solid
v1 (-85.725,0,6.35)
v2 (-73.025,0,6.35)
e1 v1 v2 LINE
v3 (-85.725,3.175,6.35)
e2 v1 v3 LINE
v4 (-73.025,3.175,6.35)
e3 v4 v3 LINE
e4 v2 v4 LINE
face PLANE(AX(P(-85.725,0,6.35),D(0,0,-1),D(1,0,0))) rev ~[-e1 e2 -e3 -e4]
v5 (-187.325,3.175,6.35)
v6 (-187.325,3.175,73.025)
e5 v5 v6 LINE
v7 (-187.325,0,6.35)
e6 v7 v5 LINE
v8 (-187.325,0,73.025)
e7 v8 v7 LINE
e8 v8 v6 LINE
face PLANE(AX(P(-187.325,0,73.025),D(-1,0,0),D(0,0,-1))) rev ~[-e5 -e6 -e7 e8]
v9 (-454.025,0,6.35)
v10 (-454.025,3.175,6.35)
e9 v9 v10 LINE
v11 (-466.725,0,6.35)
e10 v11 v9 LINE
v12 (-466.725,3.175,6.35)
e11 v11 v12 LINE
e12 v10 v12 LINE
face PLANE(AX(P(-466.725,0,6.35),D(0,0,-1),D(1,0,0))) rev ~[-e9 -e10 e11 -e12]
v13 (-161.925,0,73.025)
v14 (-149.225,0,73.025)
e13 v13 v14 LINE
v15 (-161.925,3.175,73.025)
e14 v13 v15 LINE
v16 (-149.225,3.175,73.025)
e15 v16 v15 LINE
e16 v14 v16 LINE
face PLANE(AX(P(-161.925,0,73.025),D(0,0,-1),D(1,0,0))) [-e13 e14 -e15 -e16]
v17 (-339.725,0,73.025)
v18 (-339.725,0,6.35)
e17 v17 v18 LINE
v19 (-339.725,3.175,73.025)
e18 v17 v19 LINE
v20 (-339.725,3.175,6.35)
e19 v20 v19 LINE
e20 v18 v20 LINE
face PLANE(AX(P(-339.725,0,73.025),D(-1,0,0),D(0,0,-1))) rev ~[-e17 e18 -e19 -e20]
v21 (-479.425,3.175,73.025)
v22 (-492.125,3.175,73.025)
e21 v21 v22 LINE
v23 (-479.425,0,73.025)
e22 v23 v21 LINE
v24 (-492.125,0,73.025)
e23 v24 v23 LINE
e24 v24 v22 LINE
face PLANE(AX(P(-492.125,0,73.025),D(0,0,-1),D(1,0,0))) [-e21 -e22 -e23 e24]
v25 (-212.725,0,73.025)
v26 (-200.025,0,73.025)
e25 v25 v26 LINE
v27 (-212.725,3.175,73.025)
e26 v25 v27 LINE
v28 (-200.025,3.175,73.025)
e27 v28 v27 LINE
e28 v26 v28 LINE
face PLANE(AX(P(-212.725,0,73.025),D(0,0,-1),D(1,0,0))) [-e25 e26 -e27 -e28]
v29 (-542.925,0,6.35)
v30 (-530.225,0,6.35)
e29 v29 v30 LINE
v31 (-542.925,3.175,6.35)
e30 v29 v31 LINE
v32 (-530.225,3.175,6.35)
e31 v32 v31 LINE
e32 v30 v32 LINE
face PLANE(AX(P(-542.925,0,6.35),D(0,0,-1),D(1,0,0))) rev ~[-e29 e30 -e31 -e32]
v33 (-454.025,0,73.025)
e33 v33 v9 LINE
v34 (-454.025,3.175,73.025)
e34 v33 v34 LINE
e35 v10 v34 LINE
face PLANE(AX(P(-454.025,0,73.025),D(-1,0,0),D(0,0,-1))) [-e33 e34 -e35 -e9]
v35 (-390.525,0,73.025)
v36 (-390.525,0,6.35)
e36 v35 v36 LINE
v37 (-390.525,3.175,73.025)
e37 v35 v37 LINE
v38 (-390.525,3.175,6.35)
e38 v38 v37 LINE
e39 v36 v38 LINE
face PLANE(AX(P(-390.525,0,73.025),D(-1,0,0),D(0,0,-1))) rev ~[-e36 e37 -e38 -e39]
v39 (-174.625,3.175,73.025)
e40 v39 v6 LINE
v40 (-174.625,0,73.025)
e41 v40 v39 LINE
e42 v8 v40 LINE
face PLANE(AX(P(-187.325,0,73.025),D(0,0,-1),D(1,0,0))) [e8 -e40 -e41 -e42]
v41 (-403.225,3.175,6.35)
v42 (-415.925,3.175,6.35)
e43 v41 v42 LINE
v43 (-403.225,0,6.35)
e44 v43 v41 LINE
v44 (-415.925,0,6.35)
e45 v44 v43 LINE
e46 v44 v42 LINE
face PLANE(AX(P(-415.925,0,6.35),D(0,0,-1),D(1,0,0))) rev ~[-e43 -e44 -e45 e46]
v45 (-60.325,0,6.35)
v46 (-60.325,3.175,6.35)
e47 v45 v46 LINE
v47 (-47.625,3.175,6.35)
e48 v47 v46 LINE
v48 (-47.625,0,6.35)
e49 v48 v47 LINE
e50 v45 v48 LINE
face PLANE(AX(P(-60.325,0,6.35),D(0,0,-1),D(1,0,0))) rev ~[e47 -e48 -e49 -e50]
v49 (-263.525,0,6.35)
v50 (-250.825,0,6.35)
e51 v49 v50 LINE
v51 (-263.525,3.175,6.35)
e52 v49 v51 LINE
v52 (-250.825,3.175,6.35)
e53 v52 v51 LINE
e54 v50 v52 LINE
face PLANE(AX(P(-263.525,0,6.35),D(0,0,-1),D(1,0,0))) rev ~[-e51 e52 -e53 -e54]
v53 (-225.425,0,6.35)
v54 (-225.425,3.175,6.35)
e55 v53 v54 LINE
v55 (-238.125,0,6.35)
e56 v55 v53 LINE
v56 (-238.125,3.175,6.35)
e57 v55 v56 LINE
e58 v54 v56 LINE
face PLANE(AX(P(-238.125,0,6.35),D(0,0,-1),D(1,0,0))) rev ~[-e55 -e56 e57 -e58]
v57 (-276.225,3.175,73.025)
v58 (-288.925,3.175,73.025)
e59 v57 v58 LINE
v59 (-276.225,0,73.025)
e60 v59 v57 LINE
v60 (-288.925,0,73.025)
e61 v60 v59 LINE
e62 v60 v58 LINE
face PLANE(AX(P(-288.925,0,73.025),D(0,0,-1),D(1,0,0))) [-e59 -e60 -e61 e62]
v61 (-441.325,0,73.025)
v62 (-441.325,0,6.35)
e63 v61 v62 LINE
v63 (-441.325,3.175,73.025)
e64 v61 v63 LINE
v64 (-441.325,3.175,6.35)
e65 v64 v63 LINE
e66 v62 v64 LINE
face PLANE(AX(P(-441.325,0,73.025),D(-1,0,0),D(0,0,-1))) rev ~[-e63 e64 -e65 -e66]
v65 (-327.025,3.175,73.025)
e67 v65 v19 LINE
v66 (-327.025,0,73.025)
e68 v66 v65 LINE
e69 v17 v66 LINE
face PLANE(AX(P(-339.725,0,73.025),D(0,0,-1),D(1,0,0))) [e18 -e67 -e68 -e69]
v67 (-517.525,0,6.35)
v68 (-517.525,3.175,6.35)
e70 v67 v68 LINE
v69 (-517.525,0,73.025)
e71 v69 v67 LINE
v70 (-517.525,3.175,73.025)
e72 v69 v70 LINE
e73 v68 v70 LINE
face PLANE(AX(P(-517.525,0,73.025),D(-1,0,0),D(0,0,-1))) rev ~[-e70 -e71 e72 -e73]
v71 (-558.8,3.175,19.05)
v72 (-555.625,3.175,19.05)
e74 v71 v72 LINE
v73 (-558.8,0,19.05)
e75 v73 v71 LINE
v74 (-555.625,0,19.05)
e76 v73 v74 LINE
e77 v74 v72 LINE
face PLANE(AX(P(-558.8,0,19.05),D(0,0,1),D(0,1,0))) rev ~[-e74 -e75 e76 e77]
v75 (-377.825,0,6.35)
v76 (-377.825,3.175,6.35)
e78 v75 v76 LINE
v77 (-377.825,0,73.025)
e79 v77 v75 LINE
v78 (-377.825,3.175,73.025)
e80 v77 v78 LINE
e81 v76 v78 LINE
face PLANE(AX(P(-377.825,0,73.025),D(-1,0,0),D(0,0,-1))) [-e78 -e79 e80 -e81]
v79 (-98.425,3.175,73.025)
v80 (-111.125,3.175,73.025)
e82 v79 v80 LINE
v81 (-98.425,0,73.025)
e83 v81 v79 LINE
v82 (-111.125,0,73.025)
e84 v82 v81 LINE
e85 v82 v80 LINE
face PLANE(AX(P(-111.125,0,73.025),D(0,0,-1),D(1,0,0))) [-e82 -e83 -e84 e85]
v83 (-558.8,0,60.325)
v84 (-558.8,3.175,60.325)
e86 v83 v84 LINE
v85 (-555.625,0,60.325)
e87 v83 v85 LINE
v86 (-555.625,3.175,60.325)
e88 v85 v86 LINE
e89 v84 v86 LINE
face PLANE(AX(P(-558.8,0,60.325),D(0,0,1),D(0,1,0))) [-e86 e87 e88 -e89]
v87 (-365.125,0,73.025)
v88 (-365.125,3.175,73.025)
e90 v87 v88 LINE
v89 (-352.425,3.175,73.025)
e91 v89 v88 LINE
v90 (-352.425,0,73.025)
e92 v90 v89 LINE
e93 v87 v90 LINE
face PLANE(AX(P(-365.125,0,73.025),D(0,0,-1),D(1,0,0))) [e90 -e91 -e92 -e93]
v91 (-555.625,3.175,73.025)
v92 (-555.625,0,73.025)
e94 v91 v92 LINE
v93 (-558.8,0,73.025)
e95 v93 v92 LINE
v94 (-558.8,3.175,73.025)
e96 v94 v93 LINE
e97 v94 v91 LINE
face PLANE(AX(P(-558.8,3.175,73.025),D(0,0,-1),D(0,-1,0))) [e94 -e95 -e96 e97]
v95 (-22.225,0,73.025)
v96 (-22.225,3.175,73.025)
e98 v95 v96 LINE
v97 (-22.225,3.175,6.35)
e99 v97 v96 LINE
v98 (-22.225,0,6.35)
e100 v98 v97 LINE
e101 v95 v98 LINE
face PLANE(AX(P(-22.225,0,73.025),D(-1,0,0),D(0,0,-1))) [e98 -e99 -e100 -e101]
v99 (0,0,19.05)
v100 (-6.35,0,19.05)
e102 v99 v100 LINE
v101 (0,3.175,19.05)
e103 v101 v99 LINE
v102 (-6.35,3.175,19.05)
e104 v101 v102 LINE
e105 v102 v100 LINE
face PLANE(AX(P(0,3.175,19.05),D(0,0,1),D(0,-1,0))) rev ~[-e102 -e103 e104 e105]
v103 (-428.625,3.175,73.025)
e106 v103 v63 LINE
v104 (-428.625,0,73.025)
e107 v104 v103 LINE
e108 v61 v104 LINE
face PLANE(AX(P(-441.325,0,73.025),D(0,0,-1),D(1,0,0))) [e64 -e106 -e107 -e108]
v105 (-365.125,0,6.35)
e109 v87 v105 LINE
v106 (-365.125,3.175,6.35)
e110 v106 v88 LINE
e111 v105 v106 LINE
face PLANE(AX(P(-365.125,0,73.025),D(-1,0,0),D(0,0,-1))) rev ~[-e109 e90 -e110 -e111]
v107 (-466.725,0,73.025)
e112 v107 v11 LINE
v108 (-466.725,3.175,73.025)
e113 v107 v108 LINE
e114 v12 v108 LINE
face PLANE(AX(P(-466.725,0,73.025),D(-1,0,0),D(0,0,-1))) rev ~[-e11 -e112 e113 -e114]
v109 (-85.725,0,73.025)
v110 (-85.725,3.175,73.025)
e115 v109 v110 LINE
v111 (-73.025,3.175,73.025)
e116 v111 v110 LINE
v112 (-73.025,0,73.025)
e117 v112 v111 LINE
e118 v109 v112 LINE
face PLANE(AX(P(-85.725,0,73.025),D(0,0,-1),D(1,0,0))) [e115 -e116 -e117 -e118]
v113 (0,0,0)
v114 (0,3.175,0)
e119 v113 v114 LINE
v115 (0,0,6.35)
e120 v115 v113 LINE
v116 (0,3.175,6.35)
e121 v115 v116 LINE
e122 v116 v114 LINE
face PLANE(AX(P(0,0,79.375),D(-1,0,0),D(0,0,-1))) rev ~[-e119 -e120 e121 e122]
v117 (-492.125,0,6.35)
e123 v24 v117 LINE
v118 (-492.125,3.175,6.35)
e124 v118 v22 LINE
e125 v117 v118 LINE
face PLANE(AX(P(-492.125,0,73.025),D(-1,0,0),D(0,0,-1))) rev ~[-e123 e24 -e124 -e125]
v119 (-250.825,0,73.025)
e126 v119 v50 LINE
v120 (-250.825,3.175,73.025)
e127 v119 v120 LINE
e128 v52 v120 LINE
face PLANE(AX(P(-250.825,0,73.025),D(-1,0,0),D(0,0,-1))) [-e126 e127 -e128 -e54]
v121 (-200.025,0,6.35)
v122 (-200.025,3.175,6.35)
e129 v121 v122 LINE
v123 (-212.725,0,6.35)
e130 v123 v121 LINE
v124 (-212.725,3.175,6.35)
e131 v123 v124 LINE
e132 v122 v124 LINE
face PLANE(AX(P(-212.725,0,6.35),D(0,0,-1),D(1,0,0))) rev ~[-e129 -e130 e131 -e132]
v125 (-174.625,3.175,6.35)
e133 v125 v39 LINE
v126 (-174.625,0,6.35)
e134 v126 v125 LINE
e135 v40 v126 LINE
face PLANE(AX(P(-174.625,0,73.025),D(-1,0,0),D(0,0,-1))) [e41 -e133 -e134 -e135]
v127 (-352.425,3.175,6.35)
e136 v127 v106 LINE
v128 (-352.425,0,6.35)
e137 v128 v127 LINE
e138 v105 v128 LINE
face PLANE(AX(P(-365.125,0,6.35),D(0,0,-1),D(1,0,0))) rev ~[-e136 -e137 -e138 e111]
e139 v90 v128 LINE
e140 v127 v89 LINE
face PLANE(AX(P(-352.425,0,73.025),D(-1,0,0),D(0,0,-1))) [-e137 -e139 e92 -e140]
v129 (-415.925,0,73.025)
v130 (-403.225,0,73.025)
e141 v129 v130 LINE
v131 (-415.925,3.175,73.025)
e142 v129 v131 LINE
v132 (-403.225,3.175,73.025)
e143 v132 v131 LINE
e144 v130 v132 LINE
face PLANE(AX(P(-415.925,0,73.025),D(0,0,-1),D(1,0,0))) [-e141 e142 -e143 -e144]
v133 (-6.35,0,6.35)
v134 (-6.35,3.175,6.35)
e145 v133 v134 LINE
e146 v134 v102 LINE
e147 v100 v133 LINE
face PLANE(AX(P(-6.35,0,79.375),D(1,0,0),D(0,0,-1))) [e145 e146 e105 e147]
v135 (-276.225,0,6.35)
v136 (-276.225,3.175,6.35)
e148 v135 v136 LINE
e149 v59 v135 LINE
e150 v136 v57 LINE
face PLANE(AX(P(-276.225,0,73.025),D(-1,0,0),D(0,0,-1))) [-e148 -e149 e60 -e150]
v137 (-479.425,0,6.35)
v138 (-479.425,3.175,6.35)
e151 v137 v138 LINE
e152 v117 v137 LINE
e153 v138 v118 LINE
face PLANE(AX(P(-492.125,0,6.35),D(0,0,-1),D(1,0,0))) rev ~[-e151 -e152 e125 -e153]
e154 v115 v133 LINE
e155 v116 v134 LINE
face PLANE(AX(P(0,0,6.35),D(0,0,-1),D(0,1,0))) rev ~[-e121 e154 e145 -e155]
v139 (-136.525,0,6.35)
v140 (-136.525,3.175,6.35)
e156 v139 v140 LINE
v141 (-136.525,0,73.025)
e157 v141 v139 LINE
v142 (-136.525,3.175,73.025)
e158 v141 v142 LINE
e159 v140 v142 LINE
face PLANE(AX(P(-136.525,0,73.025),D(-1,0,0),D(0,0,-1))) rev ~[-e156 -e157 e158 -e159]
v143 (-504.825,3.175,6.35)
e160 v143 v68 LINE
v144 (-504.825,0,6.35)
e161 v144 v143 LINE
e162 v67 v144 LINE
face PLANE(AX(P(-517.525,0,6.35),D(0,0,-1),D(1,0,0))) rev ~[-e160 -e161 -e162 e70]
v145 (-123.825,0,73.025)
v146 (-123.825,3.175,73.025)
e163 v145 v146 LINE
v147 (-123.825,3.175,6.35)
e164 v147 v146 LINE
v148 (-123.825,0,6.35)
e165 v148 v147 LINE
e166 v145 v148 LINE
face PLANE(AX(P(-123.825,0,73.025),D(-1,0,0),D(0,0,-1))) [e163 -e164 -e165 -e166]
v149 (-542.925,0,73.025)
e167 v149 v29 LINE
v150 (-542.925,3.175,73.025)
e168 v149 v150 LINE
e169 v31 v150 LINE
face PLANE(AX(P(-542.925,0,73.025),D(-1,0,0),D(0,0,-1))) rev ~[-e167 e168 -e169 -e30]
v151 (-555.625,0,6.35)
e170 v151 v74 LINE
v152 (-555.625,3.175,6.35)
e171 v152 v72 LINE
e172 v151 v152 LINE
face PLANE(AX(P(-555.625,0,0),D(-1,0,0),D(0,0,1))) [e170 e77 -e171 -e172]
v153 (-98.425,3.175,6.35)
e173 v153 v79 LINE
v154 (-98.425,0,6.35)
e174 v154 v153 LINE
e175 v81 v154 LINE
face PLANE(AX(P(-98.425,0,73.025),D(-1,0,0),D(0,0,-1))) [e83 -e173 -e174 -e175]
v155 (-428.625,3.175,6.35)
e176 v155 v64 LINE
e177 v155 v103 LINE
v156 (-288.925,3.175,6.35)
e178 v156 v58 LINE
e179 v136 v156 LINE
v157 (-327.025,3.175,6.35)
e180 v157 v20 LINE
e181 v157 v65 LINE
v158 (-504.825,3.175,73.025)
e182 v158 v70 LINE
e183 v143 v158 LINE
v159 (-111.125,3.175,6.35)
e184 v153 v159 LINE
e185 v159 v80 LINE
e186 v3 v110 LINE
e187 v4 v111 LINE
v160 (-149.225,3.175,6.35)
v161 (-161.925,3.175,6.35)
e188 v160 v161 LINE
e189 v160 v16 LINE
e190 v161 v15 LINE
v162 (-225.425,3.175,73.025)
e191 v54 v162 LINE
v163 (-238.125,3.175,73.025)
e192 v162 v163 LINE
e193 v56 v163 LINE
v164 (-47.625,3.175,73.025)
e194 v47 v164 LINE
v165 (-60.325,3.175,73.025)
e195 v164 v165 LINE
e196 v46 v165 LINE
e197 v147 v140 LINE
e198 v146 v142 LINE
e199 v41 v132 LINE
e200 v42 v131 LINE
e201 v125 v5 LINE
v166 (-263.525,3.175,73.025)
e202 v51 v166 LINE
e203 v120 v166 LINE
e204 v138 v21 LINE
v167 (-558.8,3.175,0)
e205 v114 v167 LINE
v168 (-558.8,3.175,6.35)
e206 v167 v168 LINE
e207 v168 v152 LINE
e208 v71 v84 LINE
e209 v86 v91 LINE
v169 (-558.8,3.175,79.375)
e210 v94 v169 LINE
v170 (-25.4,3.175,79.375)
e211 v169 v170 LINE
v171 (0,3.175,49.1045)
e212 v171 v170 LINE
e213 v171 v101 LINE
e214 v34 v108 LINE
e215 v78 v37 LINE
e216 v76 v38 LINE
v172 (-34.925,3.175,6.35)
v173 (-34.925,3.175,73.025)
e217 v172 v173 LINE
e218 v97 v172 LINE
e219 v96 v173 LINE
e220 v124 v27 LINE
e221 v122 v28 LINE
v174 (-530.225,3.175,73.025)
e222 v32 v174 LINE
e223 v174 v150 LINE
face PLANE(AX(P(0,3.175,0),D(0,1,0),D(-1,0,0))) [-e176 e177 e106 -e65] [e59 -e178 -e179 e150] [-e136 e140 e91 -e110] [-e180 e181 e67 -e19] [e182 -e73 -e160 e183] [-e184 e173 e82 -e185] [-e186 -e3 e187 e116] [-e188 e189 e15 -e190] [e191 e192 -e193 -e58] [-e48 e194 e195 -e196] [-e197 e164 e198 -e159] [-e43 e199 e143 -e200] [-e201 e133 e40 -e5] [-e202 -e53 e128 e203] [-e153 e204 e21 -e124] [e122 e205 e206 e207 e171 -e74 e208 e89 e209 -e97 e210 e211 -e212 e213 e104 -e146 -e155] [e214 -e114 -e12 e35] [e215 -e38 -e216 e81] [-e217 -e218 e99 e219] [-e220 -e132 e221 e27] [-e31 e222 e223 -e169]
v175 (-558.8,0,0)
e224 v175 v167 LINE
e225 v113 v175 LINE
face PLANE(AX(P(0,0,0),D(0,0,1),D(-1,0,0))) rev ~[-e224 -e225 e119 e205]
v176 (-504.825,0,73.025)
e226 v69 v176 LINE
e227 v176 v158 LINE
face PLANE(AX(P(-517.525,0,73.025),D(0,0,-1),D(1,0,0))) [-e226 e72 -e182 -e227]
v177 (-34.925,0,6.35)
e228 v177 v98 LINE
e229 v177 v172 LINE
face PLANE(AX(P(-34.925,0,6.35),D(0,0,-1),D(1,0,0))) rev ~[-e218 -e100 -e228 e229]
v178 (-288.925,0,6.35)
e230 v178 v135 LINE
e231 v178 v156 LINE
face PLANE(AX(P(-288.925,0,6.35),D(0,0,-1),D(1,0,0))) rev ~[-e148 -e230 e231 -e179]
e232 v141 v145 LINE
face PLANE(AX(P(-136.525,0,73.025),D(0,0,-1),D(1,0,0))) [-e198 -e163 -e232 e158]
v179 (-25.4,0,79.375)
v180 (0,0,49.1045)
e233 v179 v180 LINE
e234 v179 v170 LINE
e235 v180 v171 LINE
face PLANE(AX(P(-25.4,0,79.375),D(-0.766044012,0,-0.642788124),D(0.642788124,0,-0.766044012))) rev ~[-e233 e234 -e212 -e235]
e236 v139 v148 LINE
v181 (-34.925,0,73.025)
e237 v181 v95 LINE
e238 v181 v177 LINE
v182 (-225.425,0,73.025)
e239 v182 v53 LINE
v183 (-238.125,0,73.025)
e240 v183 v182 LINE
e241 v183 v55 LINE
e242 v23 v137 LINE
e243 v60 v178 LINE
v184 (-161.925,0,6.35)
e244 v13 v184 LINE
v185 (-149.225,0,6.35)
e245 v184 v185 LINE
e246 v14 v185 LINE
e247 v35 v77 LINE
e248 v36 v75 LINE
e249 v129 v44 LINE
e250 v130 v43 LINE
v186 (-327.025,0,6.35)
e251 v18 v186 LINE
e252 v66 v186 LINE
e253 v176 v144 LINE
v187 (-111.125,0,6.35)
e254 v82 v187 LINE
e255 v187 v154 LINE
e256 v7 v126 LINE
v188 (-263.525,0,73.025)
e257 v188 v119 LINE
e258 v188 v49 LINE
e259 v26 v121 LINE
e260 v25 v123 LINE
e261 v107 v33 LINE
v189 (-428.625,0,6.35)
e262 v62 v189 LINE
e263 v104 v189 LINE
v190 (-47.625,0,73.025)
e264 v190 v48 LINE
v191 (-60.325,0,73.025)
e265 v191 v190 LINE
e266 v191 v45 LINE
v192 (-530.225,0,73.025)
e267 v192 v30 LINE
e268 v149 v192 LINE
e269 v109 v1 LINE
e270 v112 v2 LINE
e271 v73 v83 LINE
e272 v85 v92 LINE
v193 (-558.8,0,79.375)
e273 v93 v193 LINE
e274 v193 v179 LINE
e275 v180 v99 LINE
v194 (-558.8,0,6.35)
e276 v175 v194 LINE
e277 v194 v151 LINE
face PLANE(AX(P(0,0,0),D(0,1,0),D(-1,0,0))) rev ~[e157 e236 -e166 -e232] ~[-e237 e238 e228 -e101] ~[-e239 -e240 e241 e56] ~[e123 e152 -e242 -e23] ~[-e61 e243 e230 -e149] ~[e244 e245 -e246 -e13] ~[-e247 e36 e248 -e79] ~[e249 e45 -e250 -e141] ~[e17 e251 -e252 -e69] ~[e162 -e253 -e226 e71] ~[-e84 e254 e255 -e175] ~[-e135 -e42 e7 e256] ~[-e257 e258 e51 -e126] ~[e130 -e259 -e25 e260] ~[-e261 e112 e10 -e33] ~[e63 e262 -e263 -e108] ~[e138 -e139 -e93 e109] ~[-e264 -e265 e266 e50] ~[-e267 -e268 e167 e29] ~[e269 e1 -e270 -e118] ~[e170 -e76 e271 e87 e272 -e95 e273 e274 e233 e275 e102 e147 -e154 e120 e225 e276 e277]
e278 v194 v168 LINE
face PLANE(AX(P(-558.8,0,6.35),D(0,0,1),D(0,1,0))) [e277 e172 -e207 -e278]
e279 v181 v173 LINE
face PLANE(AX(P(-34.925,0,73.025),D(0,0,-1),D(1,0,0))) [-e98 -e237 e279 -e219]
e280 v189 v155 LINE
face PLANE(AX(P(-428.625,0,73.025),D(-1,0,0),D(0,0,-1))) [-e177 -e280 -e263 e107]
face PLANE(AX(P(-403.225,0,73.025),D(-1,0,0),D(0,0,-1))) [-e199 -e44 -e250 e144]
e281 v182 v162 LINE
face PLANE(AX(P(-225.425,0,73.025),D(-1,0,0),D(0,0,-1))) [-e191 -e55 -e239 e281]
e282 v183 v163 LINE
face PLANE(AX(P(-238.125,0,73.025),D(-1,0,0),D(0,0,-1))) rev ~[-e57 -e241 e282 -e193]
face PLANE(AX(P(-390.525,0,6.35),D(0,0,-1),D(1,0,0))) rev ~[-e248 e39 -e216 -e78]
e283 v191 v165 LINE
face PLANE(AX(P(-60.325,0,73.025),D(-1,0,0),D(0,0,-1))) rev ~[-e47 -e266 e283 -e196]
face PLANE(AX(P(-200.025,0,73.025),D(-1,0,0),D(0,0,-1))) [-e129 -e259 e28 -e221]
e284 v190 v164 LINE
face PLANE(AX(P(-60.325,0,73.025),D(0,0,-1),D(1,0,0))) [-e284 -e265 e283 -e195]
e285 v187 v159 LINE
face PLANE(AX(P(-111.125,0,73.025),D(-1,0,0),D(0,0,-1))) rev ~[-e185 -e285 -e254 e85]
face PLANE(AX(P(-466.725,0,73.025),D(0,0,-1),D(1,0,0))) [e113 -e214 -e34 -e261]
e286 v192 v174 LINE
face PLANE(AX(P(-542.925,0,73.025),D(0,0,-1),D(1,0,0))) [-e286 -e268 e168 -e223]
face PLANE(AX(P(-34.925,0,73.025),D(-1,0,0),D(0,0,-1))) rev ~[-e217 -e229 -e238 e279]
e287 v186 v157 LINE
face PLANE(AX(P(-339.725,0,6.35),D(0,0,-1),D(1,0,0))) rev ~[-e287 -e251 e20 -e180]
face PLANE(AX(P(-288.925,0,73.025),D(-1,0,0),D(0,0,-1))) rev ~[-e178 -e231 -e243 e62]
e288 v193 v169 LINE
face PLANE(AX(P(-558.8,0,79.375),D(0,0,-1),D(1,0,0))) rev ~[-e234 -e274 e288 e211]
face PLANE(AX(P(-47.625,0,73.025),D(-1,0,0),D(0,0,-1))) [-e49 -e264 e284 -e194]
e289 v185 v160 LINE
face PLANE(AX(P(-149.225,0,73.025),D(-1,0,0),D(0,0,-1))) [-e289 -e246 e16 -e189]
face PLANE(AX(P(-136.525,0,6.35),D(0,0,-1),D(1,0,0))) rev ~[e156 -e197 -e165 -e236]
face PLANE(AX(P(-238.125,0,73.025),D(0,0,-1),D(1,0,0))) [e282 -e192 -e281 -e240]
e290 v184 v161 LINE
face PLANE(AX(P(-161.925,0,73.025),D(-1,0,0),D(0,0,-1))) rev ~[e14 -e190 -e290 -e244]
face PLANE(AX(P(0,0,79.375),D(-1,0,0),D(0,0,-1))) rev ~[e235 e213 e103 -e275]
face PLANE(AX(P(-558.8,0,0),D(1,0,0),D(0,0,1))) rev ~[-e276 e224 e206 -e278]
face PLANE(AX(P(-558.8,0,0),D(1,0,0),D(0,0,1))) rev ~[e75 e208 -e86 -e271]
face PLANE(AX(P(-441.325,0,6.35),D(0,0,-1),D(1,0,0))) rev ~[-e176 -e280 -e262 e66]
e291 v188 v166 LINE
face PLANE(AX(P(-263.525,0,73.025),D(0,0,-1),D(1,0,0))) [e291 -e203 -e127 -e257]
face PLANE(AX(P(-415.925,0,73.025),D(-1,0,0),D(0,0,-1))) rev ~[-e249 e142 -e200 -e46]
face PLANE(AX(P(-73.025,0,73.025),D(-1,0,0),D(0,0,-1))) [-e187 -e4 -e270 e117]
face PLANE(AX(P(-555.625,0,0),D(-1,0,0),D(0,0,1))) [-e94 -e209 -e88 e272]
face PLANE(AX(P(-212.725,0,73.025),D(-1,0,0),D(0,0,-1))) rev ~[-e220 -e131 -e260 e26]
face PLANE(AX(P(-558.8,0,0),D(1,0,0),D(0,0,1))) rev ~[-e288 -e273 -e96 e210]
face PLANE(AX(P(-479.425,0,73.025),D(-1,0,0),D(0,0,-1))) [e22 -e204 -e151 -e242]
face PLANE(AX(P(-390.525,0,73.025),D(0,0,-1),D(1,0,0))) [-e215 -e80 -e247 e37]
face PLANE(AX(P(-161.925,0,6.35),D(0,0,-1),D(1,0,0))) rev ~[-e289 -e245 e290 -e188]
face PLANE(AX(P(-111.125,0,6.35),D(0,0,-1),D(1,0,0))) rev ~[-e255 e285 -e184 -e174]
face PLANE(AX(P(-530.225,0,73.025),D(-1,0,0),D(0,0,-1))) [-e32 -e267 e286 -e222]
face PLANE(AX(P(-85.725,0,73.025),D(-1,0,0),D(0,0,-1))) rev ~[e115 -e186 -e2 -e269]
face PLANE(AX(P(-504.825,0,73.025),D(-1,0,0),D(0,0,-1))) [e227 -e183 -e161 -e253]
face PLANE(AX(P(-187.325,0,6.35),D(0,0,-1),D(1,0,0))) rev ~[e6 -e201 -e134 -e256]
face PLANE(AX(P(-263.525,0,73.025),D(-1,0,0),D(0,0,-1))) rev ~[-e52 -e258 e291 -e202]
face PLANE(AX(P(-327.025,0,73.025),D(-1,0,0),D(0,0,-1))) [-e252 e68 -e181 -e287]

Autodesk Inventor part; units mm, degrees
ref_plane "YZ Plane" through (0, 0, 0) normal (1, 0, 0) x (0, 1, 0)
ref_plane "XZ Plane" through (0, 0, 0) normal (0, 1, 0) x (-1, 0, 0)
ref_plane "XY Plane" through (0, 0, 0) normal (0, 0, 1) x (1, 0, 0)
sketch "Sketch1" plane through (0, 0, 0) normal (0, 1, 0) x (-1, 0, 0)
  line L0 (0, 0) -> (558.8, 0)
  line L1 (558.8, 0) -> (558.8, 79.375)
  line L2 (558.8, 79.375) -> (0, 79.375)
  line L3 (0, 79.375) -> (0, 0)
  dimension "d0" = 79.375
  dimension "d1" = 558.8
extrude "Extrusion1" add sketch "Sketch1" along normal blind 3.175
sketch "Sketch3" plane through (-558.8, 0, 0) normal (-1, 0, 0) x (0, 0, 1)
  line L0 (0, 0) -> (79.375, 0) projected
  line L1 (79.375, 0) -> (79.375, 3.175) projected
  line L2 (0, 3.175) -> (79.375, 3.175) projected
  line L3 (0, 0) -> (0, 3.175) projected
  line L4 (73.025, 3.175) -> (73.025, 0)
  line L5 (60.325, 0) -> (60.325, 3.175)
  line L6 (19.05, 0) -> (19.05, 3.175)
  line L7 (6.35, 0) -> (6.35, 3.175)
  dimension "d4" = 12.7
  dimension "d5" = 6.35
  dimension "d6" = 12.7
  dimension "d7" = 6.35
extrude "Extrusion2" cut sketch "Sketch3" against normal blind 3.175 contours L7 L2 L6 L0 | L5 L2 L4 L0
sketch "Sketch4" plane through (0, 0, 79.375) normal (1, 0, 0) x (0, 0, -1)
  line L0 (19.05, 3.175) -> (6.35, 3.175) projected
  line L1 (19.05, 0) -> (19.05, 3.175) projected
  line L2 (6.35, 0) -> (19.05, 0) projected
  line L3 (6.35, 3.175) -> (6.35, 0) projected
  line L4 (60.325, 3.175) -> (60.325, 0) projected
  line L5 (73.025, 3.175) -> (60.325, 3.175) projected
  line L6 (73.025, 0) -> (73.025, 3.175) projected
  line L7 (60.325, 0) -> (73.025, 0) projected
extrude "Extrusion3" cut sketch "Sketch4" against normal blind 6.35
sketch "Sketch5" plane through (0, 0, 0) normal (0, -1, 0) x (1, 0, 0)
  line L0 (-558.8, 79.375) -> (0, 79.375) projected
  line L1 (-558.8, 19.05) -> (-558.8, 60.325) projected
  line L2 (0, 0) -> (-558.8, 0) projected
  line L3 (-542.925, 73.025) -> (-542.925, 6.35)
  line L4 (-542.925, 6.35) -> (-530.225, 6.35)
  line L5 (-542.925, 73.025) -> (-530.225, 73.025)
  line L6 (-530.225, 73.025) -> (-530.225, 6.35)
  line L7 (-517.525, 73.025) -> (-517.525, 6.35)
  line L8 (-517.525, 6.35) -> (-504.825, 6.35)
  line L9 (-517.525, 73.025) -> (-504.825, 73.025)
  line L10 (-504.825, 73.025) -> (-504.825, 6.35)
  line L11 (-492.125, 73.025) -> (-492.125, 6.35)
  line L12 (-492.125, 6.35) -> (-479.425, 6.35)
  line L13 (-492.125, 73.025) -> (-479.425, 73.025)
  line L14 (-479.425, 73.025) -> (-479.425, 6.35)
  line L15 (-466.725, 73.025) -> (-466.725, 6.35)
  line L16 (-466.725, 6.35) -> (-454.025, 6.35)
  line L17 (-466.725, 73.025) -> (-454.025, 73.025)
  line L18 (-454.025, 73.025) -> (-454.025, 6.35)
  line L19 (-441.325, 73.025) -> (-441.325, 6.35)
  line L20 (-441.325, 6.35) -> (-428.625, 6.35)
  line L21 (-441.325, 73.025) -> (-428.625, 73.025)
  line L22 (-428.625, 73.025) -> (-428.625, 6.35)
  line L23 (-415.925, 73.025) -> (-415.925, 6.35)
  line L24 (-415.925, 6.35) -> (-403.225, 6.35)
  line L25 (-415.925, 73.025) -> (-403.225, 73.025)
  line L26 (-403.225, 73.025) -> (-403.225, 6.35)
  line L27 (-390.525, 73.025) -> (-390.525, 6.35)
  line L28 (-390.525, 6.35) -> (-377.825, 6.35)
  line L29 (-390.525, 73.025) -> (-377.825, 73.025)
  line L30 (-377.825, 73.025) -> (-377.825, 6.35)
  line L31 (-365.125, 73.025) -> (-365.125, 6.35)
  line L32 (-365.125, 6.35) -> (-352.425, 6.35)
  line L33 (-365.125, 73.025) -> (-352.425, 73.025)
  line L34 (-352.425, 73.025) -> (-352.425, 6.35)
  line L35 (-339.725, 73.025) -> (-339.725, 6.35)
  line L36 (-339.725, 6.35) -> (-327.025, 6.35)
  line L37 (-339.725, 73.025) -> (-327.025, 73.025)
  line L38 (-327.025, 73.025) -> (-327.025, 6.35)
  line L39 (-314.325, 73.025) -> (-314.325, 6.35)
  line L40 (-314.325, 6.35) -> (-301.625, 6.35)
  line L41 (-314.325, 73.025) -> (-301.625, 73.025)
  line L42 (-301.625, 73.025) -> (-301.625, 6.35)
  line L43 (-288.925, 73.025) -> (-288.925, 6.35)
  line L44 (-288.925, 6.35) -> (-276.225, 6.35)
  line L45 (-288.925, 73.025) -> (-276.225, 73.025)
  line L46 (-276.225, 73.025) -> (-276.225, 6.35)
  line L47 (-263.525, 73.025) -> (-263.525, 6.35)
  line L48 (-263.525, 6.35) -> (-250.825, 6.35)
  line L49 (-263.525, 73.025) -> (-250.825, 73.025)
  line L50 (-250.825, 73.025) -> (-250.825, 6.35)
  line L51 (-238.125, 73.025) -> (-238.125, 6.35)
  line L52 (-238.125, 6.35) -> (-225.425, 6.35)
  line L53 (-238.125, 73.025) -> (-225.425, 73.025)
  line L54 (-225.425, 73.025) -> (-225.425, 6.35)
  line L55 (-212.725, 73.025) -> (-212.725, 6.35)
  line L56 (-212.725, 6.35) -> (-200.025, 6.35)
  line L57 (-212.725, 73.025) -> (-200.025, 73.025)
  line L58 (-200.025, 73.025) -> (-200.025, 6.35)
  line L59 (-187.325, 73.025) -> (-187.325, 6.35)
  line L60 (-187.325, 6.35) -> (-174.625, 6.35)
  line L61 (-187.325, 73.025) -> (-174.625, 73.025)
  line L62 (-174.625, 73.025) -> (-174.625, 6.35)
  line L63 (-161.925, 73.025) -> (-161.925, 6.35)
  line L64 (-161.925, 6.35) -> (-149.225, 6.35)
  line L65 (-161.925, 73.025) -> (-149.225, 73.025)
  line L66 (-149.225, 73.025) -> (-149.225, 6.35)
  line L67 (-136.525, 73.025) -> (-136.525, 6.35)
  line L68 (-136.525, 6.35) -> (-123.825, 6.35)
  line L69 (-136.525, 73.025) -> (-123.825, 73.025)
  line L70 (-123.825, 73.025) -> (-123.825, 6.35)
  line L71 (-111.125, 73.025) -> (-111.125, 6.35)
  line L72 (-111.125, 6.35) -> (-98.425, 6.35)
  line L73 (-111.125, 73.025) -> (-98.425, 73.025)
  line L74 (-98.425, 73.025) -> (-98.425, 6.35)
  line L75 (-85.725, 73.025) -> (-85.725, 6.35)
  line L76 (-85.725, 6.35) -> (-73.025, 6.35)
  line L77 (-85.725, 73.025) -> (-73.025, 73.025)
  line L78 (-73.025, 73.025) -> (-73.025, 6.35)
  line L79 (-60.325, 73.025) -> (-60.325, 6.35)
  line L80 (-60.325, 6.35) -> (-47.625, 6.35)
  line L81 (-60.325, 73.025) -> (-47.625, 73.025)
  line L82 (-47.625, 73.025) -> (-47.625, 6.35)
  line L83 (-34.925, 73.025) -> (-34.925, 6.35)
  line L84 (-34.925, 6.35) -> (-22.225, 6.35)
  line L85 (-34.925, 73.025) -> (-22.225, 73.025)
  line L86 (-22.225, 73.025) -> (-22.225, 6.35)
  dimension "d12" = 12.7
  dimension "d14" = 15.875
  dimension "d15" = 6.35
  dimension "d16" = 6.35
  dimension "d19" = 25.4
extrude "Extrusion4" cut sketch "Sketch5" against normal blind 25.4 contours L5 L6 L4 L3 | L9 L10 L8 L7 | L13 L14 L12 L11 | L17 L18 L16 L15 | L21 L22 L20 L19 | L25 L26 L24 L23 | L29 L30 L28 L27 | L33 L34 L32 L31 | L37 L38 L36 L35 | L45 L46 L44 L43 | L49 L50 L48 L47 | L53 L54 L52 L51 | L57 L58 L56 L55 | L61 L62 L60 L59 | L65 L66 L64 L63 | L69 L70 L68 L67 | L73 L74 L72 L71 | L77 L78 L76 L75 | L81 L82 L80 L79 | L85 L86 L84 L83
sketch "Sketch6" plane through (0, 0, 0) normal (0, -1, 0) x (1, 0, 0)
  line L0 (0, 60.325) -> (-6.35, 60.325) projected
  line L1 (-6.35, 60.325) -> (-6.35, 73.025) projected
  line L2 (-6.35, 73.025) -> (0, 73.025) projected
  line L3 (0, 79.375) -> (0, 73.025) projected
  line L4 (-558.8, 79.375) -> (0, 79.375) projected
  line L5 (0, 60.325) -> (0, 19.05) projected
  line L6 (0, 60.325) -> (0, 73.025)
  line L7 (-25.4, 79.375) -> (0, 49.1045)
  dimension "d26" = 50
  dimension "d27" = 25.4
extrude "Extrusion5" cut sketch "Sketch6" against normal blind 25.4 contours L5 L7 L4 L3 L2 L1 L0
properties part number "Wing" material "Polycarbonate, Clear"
